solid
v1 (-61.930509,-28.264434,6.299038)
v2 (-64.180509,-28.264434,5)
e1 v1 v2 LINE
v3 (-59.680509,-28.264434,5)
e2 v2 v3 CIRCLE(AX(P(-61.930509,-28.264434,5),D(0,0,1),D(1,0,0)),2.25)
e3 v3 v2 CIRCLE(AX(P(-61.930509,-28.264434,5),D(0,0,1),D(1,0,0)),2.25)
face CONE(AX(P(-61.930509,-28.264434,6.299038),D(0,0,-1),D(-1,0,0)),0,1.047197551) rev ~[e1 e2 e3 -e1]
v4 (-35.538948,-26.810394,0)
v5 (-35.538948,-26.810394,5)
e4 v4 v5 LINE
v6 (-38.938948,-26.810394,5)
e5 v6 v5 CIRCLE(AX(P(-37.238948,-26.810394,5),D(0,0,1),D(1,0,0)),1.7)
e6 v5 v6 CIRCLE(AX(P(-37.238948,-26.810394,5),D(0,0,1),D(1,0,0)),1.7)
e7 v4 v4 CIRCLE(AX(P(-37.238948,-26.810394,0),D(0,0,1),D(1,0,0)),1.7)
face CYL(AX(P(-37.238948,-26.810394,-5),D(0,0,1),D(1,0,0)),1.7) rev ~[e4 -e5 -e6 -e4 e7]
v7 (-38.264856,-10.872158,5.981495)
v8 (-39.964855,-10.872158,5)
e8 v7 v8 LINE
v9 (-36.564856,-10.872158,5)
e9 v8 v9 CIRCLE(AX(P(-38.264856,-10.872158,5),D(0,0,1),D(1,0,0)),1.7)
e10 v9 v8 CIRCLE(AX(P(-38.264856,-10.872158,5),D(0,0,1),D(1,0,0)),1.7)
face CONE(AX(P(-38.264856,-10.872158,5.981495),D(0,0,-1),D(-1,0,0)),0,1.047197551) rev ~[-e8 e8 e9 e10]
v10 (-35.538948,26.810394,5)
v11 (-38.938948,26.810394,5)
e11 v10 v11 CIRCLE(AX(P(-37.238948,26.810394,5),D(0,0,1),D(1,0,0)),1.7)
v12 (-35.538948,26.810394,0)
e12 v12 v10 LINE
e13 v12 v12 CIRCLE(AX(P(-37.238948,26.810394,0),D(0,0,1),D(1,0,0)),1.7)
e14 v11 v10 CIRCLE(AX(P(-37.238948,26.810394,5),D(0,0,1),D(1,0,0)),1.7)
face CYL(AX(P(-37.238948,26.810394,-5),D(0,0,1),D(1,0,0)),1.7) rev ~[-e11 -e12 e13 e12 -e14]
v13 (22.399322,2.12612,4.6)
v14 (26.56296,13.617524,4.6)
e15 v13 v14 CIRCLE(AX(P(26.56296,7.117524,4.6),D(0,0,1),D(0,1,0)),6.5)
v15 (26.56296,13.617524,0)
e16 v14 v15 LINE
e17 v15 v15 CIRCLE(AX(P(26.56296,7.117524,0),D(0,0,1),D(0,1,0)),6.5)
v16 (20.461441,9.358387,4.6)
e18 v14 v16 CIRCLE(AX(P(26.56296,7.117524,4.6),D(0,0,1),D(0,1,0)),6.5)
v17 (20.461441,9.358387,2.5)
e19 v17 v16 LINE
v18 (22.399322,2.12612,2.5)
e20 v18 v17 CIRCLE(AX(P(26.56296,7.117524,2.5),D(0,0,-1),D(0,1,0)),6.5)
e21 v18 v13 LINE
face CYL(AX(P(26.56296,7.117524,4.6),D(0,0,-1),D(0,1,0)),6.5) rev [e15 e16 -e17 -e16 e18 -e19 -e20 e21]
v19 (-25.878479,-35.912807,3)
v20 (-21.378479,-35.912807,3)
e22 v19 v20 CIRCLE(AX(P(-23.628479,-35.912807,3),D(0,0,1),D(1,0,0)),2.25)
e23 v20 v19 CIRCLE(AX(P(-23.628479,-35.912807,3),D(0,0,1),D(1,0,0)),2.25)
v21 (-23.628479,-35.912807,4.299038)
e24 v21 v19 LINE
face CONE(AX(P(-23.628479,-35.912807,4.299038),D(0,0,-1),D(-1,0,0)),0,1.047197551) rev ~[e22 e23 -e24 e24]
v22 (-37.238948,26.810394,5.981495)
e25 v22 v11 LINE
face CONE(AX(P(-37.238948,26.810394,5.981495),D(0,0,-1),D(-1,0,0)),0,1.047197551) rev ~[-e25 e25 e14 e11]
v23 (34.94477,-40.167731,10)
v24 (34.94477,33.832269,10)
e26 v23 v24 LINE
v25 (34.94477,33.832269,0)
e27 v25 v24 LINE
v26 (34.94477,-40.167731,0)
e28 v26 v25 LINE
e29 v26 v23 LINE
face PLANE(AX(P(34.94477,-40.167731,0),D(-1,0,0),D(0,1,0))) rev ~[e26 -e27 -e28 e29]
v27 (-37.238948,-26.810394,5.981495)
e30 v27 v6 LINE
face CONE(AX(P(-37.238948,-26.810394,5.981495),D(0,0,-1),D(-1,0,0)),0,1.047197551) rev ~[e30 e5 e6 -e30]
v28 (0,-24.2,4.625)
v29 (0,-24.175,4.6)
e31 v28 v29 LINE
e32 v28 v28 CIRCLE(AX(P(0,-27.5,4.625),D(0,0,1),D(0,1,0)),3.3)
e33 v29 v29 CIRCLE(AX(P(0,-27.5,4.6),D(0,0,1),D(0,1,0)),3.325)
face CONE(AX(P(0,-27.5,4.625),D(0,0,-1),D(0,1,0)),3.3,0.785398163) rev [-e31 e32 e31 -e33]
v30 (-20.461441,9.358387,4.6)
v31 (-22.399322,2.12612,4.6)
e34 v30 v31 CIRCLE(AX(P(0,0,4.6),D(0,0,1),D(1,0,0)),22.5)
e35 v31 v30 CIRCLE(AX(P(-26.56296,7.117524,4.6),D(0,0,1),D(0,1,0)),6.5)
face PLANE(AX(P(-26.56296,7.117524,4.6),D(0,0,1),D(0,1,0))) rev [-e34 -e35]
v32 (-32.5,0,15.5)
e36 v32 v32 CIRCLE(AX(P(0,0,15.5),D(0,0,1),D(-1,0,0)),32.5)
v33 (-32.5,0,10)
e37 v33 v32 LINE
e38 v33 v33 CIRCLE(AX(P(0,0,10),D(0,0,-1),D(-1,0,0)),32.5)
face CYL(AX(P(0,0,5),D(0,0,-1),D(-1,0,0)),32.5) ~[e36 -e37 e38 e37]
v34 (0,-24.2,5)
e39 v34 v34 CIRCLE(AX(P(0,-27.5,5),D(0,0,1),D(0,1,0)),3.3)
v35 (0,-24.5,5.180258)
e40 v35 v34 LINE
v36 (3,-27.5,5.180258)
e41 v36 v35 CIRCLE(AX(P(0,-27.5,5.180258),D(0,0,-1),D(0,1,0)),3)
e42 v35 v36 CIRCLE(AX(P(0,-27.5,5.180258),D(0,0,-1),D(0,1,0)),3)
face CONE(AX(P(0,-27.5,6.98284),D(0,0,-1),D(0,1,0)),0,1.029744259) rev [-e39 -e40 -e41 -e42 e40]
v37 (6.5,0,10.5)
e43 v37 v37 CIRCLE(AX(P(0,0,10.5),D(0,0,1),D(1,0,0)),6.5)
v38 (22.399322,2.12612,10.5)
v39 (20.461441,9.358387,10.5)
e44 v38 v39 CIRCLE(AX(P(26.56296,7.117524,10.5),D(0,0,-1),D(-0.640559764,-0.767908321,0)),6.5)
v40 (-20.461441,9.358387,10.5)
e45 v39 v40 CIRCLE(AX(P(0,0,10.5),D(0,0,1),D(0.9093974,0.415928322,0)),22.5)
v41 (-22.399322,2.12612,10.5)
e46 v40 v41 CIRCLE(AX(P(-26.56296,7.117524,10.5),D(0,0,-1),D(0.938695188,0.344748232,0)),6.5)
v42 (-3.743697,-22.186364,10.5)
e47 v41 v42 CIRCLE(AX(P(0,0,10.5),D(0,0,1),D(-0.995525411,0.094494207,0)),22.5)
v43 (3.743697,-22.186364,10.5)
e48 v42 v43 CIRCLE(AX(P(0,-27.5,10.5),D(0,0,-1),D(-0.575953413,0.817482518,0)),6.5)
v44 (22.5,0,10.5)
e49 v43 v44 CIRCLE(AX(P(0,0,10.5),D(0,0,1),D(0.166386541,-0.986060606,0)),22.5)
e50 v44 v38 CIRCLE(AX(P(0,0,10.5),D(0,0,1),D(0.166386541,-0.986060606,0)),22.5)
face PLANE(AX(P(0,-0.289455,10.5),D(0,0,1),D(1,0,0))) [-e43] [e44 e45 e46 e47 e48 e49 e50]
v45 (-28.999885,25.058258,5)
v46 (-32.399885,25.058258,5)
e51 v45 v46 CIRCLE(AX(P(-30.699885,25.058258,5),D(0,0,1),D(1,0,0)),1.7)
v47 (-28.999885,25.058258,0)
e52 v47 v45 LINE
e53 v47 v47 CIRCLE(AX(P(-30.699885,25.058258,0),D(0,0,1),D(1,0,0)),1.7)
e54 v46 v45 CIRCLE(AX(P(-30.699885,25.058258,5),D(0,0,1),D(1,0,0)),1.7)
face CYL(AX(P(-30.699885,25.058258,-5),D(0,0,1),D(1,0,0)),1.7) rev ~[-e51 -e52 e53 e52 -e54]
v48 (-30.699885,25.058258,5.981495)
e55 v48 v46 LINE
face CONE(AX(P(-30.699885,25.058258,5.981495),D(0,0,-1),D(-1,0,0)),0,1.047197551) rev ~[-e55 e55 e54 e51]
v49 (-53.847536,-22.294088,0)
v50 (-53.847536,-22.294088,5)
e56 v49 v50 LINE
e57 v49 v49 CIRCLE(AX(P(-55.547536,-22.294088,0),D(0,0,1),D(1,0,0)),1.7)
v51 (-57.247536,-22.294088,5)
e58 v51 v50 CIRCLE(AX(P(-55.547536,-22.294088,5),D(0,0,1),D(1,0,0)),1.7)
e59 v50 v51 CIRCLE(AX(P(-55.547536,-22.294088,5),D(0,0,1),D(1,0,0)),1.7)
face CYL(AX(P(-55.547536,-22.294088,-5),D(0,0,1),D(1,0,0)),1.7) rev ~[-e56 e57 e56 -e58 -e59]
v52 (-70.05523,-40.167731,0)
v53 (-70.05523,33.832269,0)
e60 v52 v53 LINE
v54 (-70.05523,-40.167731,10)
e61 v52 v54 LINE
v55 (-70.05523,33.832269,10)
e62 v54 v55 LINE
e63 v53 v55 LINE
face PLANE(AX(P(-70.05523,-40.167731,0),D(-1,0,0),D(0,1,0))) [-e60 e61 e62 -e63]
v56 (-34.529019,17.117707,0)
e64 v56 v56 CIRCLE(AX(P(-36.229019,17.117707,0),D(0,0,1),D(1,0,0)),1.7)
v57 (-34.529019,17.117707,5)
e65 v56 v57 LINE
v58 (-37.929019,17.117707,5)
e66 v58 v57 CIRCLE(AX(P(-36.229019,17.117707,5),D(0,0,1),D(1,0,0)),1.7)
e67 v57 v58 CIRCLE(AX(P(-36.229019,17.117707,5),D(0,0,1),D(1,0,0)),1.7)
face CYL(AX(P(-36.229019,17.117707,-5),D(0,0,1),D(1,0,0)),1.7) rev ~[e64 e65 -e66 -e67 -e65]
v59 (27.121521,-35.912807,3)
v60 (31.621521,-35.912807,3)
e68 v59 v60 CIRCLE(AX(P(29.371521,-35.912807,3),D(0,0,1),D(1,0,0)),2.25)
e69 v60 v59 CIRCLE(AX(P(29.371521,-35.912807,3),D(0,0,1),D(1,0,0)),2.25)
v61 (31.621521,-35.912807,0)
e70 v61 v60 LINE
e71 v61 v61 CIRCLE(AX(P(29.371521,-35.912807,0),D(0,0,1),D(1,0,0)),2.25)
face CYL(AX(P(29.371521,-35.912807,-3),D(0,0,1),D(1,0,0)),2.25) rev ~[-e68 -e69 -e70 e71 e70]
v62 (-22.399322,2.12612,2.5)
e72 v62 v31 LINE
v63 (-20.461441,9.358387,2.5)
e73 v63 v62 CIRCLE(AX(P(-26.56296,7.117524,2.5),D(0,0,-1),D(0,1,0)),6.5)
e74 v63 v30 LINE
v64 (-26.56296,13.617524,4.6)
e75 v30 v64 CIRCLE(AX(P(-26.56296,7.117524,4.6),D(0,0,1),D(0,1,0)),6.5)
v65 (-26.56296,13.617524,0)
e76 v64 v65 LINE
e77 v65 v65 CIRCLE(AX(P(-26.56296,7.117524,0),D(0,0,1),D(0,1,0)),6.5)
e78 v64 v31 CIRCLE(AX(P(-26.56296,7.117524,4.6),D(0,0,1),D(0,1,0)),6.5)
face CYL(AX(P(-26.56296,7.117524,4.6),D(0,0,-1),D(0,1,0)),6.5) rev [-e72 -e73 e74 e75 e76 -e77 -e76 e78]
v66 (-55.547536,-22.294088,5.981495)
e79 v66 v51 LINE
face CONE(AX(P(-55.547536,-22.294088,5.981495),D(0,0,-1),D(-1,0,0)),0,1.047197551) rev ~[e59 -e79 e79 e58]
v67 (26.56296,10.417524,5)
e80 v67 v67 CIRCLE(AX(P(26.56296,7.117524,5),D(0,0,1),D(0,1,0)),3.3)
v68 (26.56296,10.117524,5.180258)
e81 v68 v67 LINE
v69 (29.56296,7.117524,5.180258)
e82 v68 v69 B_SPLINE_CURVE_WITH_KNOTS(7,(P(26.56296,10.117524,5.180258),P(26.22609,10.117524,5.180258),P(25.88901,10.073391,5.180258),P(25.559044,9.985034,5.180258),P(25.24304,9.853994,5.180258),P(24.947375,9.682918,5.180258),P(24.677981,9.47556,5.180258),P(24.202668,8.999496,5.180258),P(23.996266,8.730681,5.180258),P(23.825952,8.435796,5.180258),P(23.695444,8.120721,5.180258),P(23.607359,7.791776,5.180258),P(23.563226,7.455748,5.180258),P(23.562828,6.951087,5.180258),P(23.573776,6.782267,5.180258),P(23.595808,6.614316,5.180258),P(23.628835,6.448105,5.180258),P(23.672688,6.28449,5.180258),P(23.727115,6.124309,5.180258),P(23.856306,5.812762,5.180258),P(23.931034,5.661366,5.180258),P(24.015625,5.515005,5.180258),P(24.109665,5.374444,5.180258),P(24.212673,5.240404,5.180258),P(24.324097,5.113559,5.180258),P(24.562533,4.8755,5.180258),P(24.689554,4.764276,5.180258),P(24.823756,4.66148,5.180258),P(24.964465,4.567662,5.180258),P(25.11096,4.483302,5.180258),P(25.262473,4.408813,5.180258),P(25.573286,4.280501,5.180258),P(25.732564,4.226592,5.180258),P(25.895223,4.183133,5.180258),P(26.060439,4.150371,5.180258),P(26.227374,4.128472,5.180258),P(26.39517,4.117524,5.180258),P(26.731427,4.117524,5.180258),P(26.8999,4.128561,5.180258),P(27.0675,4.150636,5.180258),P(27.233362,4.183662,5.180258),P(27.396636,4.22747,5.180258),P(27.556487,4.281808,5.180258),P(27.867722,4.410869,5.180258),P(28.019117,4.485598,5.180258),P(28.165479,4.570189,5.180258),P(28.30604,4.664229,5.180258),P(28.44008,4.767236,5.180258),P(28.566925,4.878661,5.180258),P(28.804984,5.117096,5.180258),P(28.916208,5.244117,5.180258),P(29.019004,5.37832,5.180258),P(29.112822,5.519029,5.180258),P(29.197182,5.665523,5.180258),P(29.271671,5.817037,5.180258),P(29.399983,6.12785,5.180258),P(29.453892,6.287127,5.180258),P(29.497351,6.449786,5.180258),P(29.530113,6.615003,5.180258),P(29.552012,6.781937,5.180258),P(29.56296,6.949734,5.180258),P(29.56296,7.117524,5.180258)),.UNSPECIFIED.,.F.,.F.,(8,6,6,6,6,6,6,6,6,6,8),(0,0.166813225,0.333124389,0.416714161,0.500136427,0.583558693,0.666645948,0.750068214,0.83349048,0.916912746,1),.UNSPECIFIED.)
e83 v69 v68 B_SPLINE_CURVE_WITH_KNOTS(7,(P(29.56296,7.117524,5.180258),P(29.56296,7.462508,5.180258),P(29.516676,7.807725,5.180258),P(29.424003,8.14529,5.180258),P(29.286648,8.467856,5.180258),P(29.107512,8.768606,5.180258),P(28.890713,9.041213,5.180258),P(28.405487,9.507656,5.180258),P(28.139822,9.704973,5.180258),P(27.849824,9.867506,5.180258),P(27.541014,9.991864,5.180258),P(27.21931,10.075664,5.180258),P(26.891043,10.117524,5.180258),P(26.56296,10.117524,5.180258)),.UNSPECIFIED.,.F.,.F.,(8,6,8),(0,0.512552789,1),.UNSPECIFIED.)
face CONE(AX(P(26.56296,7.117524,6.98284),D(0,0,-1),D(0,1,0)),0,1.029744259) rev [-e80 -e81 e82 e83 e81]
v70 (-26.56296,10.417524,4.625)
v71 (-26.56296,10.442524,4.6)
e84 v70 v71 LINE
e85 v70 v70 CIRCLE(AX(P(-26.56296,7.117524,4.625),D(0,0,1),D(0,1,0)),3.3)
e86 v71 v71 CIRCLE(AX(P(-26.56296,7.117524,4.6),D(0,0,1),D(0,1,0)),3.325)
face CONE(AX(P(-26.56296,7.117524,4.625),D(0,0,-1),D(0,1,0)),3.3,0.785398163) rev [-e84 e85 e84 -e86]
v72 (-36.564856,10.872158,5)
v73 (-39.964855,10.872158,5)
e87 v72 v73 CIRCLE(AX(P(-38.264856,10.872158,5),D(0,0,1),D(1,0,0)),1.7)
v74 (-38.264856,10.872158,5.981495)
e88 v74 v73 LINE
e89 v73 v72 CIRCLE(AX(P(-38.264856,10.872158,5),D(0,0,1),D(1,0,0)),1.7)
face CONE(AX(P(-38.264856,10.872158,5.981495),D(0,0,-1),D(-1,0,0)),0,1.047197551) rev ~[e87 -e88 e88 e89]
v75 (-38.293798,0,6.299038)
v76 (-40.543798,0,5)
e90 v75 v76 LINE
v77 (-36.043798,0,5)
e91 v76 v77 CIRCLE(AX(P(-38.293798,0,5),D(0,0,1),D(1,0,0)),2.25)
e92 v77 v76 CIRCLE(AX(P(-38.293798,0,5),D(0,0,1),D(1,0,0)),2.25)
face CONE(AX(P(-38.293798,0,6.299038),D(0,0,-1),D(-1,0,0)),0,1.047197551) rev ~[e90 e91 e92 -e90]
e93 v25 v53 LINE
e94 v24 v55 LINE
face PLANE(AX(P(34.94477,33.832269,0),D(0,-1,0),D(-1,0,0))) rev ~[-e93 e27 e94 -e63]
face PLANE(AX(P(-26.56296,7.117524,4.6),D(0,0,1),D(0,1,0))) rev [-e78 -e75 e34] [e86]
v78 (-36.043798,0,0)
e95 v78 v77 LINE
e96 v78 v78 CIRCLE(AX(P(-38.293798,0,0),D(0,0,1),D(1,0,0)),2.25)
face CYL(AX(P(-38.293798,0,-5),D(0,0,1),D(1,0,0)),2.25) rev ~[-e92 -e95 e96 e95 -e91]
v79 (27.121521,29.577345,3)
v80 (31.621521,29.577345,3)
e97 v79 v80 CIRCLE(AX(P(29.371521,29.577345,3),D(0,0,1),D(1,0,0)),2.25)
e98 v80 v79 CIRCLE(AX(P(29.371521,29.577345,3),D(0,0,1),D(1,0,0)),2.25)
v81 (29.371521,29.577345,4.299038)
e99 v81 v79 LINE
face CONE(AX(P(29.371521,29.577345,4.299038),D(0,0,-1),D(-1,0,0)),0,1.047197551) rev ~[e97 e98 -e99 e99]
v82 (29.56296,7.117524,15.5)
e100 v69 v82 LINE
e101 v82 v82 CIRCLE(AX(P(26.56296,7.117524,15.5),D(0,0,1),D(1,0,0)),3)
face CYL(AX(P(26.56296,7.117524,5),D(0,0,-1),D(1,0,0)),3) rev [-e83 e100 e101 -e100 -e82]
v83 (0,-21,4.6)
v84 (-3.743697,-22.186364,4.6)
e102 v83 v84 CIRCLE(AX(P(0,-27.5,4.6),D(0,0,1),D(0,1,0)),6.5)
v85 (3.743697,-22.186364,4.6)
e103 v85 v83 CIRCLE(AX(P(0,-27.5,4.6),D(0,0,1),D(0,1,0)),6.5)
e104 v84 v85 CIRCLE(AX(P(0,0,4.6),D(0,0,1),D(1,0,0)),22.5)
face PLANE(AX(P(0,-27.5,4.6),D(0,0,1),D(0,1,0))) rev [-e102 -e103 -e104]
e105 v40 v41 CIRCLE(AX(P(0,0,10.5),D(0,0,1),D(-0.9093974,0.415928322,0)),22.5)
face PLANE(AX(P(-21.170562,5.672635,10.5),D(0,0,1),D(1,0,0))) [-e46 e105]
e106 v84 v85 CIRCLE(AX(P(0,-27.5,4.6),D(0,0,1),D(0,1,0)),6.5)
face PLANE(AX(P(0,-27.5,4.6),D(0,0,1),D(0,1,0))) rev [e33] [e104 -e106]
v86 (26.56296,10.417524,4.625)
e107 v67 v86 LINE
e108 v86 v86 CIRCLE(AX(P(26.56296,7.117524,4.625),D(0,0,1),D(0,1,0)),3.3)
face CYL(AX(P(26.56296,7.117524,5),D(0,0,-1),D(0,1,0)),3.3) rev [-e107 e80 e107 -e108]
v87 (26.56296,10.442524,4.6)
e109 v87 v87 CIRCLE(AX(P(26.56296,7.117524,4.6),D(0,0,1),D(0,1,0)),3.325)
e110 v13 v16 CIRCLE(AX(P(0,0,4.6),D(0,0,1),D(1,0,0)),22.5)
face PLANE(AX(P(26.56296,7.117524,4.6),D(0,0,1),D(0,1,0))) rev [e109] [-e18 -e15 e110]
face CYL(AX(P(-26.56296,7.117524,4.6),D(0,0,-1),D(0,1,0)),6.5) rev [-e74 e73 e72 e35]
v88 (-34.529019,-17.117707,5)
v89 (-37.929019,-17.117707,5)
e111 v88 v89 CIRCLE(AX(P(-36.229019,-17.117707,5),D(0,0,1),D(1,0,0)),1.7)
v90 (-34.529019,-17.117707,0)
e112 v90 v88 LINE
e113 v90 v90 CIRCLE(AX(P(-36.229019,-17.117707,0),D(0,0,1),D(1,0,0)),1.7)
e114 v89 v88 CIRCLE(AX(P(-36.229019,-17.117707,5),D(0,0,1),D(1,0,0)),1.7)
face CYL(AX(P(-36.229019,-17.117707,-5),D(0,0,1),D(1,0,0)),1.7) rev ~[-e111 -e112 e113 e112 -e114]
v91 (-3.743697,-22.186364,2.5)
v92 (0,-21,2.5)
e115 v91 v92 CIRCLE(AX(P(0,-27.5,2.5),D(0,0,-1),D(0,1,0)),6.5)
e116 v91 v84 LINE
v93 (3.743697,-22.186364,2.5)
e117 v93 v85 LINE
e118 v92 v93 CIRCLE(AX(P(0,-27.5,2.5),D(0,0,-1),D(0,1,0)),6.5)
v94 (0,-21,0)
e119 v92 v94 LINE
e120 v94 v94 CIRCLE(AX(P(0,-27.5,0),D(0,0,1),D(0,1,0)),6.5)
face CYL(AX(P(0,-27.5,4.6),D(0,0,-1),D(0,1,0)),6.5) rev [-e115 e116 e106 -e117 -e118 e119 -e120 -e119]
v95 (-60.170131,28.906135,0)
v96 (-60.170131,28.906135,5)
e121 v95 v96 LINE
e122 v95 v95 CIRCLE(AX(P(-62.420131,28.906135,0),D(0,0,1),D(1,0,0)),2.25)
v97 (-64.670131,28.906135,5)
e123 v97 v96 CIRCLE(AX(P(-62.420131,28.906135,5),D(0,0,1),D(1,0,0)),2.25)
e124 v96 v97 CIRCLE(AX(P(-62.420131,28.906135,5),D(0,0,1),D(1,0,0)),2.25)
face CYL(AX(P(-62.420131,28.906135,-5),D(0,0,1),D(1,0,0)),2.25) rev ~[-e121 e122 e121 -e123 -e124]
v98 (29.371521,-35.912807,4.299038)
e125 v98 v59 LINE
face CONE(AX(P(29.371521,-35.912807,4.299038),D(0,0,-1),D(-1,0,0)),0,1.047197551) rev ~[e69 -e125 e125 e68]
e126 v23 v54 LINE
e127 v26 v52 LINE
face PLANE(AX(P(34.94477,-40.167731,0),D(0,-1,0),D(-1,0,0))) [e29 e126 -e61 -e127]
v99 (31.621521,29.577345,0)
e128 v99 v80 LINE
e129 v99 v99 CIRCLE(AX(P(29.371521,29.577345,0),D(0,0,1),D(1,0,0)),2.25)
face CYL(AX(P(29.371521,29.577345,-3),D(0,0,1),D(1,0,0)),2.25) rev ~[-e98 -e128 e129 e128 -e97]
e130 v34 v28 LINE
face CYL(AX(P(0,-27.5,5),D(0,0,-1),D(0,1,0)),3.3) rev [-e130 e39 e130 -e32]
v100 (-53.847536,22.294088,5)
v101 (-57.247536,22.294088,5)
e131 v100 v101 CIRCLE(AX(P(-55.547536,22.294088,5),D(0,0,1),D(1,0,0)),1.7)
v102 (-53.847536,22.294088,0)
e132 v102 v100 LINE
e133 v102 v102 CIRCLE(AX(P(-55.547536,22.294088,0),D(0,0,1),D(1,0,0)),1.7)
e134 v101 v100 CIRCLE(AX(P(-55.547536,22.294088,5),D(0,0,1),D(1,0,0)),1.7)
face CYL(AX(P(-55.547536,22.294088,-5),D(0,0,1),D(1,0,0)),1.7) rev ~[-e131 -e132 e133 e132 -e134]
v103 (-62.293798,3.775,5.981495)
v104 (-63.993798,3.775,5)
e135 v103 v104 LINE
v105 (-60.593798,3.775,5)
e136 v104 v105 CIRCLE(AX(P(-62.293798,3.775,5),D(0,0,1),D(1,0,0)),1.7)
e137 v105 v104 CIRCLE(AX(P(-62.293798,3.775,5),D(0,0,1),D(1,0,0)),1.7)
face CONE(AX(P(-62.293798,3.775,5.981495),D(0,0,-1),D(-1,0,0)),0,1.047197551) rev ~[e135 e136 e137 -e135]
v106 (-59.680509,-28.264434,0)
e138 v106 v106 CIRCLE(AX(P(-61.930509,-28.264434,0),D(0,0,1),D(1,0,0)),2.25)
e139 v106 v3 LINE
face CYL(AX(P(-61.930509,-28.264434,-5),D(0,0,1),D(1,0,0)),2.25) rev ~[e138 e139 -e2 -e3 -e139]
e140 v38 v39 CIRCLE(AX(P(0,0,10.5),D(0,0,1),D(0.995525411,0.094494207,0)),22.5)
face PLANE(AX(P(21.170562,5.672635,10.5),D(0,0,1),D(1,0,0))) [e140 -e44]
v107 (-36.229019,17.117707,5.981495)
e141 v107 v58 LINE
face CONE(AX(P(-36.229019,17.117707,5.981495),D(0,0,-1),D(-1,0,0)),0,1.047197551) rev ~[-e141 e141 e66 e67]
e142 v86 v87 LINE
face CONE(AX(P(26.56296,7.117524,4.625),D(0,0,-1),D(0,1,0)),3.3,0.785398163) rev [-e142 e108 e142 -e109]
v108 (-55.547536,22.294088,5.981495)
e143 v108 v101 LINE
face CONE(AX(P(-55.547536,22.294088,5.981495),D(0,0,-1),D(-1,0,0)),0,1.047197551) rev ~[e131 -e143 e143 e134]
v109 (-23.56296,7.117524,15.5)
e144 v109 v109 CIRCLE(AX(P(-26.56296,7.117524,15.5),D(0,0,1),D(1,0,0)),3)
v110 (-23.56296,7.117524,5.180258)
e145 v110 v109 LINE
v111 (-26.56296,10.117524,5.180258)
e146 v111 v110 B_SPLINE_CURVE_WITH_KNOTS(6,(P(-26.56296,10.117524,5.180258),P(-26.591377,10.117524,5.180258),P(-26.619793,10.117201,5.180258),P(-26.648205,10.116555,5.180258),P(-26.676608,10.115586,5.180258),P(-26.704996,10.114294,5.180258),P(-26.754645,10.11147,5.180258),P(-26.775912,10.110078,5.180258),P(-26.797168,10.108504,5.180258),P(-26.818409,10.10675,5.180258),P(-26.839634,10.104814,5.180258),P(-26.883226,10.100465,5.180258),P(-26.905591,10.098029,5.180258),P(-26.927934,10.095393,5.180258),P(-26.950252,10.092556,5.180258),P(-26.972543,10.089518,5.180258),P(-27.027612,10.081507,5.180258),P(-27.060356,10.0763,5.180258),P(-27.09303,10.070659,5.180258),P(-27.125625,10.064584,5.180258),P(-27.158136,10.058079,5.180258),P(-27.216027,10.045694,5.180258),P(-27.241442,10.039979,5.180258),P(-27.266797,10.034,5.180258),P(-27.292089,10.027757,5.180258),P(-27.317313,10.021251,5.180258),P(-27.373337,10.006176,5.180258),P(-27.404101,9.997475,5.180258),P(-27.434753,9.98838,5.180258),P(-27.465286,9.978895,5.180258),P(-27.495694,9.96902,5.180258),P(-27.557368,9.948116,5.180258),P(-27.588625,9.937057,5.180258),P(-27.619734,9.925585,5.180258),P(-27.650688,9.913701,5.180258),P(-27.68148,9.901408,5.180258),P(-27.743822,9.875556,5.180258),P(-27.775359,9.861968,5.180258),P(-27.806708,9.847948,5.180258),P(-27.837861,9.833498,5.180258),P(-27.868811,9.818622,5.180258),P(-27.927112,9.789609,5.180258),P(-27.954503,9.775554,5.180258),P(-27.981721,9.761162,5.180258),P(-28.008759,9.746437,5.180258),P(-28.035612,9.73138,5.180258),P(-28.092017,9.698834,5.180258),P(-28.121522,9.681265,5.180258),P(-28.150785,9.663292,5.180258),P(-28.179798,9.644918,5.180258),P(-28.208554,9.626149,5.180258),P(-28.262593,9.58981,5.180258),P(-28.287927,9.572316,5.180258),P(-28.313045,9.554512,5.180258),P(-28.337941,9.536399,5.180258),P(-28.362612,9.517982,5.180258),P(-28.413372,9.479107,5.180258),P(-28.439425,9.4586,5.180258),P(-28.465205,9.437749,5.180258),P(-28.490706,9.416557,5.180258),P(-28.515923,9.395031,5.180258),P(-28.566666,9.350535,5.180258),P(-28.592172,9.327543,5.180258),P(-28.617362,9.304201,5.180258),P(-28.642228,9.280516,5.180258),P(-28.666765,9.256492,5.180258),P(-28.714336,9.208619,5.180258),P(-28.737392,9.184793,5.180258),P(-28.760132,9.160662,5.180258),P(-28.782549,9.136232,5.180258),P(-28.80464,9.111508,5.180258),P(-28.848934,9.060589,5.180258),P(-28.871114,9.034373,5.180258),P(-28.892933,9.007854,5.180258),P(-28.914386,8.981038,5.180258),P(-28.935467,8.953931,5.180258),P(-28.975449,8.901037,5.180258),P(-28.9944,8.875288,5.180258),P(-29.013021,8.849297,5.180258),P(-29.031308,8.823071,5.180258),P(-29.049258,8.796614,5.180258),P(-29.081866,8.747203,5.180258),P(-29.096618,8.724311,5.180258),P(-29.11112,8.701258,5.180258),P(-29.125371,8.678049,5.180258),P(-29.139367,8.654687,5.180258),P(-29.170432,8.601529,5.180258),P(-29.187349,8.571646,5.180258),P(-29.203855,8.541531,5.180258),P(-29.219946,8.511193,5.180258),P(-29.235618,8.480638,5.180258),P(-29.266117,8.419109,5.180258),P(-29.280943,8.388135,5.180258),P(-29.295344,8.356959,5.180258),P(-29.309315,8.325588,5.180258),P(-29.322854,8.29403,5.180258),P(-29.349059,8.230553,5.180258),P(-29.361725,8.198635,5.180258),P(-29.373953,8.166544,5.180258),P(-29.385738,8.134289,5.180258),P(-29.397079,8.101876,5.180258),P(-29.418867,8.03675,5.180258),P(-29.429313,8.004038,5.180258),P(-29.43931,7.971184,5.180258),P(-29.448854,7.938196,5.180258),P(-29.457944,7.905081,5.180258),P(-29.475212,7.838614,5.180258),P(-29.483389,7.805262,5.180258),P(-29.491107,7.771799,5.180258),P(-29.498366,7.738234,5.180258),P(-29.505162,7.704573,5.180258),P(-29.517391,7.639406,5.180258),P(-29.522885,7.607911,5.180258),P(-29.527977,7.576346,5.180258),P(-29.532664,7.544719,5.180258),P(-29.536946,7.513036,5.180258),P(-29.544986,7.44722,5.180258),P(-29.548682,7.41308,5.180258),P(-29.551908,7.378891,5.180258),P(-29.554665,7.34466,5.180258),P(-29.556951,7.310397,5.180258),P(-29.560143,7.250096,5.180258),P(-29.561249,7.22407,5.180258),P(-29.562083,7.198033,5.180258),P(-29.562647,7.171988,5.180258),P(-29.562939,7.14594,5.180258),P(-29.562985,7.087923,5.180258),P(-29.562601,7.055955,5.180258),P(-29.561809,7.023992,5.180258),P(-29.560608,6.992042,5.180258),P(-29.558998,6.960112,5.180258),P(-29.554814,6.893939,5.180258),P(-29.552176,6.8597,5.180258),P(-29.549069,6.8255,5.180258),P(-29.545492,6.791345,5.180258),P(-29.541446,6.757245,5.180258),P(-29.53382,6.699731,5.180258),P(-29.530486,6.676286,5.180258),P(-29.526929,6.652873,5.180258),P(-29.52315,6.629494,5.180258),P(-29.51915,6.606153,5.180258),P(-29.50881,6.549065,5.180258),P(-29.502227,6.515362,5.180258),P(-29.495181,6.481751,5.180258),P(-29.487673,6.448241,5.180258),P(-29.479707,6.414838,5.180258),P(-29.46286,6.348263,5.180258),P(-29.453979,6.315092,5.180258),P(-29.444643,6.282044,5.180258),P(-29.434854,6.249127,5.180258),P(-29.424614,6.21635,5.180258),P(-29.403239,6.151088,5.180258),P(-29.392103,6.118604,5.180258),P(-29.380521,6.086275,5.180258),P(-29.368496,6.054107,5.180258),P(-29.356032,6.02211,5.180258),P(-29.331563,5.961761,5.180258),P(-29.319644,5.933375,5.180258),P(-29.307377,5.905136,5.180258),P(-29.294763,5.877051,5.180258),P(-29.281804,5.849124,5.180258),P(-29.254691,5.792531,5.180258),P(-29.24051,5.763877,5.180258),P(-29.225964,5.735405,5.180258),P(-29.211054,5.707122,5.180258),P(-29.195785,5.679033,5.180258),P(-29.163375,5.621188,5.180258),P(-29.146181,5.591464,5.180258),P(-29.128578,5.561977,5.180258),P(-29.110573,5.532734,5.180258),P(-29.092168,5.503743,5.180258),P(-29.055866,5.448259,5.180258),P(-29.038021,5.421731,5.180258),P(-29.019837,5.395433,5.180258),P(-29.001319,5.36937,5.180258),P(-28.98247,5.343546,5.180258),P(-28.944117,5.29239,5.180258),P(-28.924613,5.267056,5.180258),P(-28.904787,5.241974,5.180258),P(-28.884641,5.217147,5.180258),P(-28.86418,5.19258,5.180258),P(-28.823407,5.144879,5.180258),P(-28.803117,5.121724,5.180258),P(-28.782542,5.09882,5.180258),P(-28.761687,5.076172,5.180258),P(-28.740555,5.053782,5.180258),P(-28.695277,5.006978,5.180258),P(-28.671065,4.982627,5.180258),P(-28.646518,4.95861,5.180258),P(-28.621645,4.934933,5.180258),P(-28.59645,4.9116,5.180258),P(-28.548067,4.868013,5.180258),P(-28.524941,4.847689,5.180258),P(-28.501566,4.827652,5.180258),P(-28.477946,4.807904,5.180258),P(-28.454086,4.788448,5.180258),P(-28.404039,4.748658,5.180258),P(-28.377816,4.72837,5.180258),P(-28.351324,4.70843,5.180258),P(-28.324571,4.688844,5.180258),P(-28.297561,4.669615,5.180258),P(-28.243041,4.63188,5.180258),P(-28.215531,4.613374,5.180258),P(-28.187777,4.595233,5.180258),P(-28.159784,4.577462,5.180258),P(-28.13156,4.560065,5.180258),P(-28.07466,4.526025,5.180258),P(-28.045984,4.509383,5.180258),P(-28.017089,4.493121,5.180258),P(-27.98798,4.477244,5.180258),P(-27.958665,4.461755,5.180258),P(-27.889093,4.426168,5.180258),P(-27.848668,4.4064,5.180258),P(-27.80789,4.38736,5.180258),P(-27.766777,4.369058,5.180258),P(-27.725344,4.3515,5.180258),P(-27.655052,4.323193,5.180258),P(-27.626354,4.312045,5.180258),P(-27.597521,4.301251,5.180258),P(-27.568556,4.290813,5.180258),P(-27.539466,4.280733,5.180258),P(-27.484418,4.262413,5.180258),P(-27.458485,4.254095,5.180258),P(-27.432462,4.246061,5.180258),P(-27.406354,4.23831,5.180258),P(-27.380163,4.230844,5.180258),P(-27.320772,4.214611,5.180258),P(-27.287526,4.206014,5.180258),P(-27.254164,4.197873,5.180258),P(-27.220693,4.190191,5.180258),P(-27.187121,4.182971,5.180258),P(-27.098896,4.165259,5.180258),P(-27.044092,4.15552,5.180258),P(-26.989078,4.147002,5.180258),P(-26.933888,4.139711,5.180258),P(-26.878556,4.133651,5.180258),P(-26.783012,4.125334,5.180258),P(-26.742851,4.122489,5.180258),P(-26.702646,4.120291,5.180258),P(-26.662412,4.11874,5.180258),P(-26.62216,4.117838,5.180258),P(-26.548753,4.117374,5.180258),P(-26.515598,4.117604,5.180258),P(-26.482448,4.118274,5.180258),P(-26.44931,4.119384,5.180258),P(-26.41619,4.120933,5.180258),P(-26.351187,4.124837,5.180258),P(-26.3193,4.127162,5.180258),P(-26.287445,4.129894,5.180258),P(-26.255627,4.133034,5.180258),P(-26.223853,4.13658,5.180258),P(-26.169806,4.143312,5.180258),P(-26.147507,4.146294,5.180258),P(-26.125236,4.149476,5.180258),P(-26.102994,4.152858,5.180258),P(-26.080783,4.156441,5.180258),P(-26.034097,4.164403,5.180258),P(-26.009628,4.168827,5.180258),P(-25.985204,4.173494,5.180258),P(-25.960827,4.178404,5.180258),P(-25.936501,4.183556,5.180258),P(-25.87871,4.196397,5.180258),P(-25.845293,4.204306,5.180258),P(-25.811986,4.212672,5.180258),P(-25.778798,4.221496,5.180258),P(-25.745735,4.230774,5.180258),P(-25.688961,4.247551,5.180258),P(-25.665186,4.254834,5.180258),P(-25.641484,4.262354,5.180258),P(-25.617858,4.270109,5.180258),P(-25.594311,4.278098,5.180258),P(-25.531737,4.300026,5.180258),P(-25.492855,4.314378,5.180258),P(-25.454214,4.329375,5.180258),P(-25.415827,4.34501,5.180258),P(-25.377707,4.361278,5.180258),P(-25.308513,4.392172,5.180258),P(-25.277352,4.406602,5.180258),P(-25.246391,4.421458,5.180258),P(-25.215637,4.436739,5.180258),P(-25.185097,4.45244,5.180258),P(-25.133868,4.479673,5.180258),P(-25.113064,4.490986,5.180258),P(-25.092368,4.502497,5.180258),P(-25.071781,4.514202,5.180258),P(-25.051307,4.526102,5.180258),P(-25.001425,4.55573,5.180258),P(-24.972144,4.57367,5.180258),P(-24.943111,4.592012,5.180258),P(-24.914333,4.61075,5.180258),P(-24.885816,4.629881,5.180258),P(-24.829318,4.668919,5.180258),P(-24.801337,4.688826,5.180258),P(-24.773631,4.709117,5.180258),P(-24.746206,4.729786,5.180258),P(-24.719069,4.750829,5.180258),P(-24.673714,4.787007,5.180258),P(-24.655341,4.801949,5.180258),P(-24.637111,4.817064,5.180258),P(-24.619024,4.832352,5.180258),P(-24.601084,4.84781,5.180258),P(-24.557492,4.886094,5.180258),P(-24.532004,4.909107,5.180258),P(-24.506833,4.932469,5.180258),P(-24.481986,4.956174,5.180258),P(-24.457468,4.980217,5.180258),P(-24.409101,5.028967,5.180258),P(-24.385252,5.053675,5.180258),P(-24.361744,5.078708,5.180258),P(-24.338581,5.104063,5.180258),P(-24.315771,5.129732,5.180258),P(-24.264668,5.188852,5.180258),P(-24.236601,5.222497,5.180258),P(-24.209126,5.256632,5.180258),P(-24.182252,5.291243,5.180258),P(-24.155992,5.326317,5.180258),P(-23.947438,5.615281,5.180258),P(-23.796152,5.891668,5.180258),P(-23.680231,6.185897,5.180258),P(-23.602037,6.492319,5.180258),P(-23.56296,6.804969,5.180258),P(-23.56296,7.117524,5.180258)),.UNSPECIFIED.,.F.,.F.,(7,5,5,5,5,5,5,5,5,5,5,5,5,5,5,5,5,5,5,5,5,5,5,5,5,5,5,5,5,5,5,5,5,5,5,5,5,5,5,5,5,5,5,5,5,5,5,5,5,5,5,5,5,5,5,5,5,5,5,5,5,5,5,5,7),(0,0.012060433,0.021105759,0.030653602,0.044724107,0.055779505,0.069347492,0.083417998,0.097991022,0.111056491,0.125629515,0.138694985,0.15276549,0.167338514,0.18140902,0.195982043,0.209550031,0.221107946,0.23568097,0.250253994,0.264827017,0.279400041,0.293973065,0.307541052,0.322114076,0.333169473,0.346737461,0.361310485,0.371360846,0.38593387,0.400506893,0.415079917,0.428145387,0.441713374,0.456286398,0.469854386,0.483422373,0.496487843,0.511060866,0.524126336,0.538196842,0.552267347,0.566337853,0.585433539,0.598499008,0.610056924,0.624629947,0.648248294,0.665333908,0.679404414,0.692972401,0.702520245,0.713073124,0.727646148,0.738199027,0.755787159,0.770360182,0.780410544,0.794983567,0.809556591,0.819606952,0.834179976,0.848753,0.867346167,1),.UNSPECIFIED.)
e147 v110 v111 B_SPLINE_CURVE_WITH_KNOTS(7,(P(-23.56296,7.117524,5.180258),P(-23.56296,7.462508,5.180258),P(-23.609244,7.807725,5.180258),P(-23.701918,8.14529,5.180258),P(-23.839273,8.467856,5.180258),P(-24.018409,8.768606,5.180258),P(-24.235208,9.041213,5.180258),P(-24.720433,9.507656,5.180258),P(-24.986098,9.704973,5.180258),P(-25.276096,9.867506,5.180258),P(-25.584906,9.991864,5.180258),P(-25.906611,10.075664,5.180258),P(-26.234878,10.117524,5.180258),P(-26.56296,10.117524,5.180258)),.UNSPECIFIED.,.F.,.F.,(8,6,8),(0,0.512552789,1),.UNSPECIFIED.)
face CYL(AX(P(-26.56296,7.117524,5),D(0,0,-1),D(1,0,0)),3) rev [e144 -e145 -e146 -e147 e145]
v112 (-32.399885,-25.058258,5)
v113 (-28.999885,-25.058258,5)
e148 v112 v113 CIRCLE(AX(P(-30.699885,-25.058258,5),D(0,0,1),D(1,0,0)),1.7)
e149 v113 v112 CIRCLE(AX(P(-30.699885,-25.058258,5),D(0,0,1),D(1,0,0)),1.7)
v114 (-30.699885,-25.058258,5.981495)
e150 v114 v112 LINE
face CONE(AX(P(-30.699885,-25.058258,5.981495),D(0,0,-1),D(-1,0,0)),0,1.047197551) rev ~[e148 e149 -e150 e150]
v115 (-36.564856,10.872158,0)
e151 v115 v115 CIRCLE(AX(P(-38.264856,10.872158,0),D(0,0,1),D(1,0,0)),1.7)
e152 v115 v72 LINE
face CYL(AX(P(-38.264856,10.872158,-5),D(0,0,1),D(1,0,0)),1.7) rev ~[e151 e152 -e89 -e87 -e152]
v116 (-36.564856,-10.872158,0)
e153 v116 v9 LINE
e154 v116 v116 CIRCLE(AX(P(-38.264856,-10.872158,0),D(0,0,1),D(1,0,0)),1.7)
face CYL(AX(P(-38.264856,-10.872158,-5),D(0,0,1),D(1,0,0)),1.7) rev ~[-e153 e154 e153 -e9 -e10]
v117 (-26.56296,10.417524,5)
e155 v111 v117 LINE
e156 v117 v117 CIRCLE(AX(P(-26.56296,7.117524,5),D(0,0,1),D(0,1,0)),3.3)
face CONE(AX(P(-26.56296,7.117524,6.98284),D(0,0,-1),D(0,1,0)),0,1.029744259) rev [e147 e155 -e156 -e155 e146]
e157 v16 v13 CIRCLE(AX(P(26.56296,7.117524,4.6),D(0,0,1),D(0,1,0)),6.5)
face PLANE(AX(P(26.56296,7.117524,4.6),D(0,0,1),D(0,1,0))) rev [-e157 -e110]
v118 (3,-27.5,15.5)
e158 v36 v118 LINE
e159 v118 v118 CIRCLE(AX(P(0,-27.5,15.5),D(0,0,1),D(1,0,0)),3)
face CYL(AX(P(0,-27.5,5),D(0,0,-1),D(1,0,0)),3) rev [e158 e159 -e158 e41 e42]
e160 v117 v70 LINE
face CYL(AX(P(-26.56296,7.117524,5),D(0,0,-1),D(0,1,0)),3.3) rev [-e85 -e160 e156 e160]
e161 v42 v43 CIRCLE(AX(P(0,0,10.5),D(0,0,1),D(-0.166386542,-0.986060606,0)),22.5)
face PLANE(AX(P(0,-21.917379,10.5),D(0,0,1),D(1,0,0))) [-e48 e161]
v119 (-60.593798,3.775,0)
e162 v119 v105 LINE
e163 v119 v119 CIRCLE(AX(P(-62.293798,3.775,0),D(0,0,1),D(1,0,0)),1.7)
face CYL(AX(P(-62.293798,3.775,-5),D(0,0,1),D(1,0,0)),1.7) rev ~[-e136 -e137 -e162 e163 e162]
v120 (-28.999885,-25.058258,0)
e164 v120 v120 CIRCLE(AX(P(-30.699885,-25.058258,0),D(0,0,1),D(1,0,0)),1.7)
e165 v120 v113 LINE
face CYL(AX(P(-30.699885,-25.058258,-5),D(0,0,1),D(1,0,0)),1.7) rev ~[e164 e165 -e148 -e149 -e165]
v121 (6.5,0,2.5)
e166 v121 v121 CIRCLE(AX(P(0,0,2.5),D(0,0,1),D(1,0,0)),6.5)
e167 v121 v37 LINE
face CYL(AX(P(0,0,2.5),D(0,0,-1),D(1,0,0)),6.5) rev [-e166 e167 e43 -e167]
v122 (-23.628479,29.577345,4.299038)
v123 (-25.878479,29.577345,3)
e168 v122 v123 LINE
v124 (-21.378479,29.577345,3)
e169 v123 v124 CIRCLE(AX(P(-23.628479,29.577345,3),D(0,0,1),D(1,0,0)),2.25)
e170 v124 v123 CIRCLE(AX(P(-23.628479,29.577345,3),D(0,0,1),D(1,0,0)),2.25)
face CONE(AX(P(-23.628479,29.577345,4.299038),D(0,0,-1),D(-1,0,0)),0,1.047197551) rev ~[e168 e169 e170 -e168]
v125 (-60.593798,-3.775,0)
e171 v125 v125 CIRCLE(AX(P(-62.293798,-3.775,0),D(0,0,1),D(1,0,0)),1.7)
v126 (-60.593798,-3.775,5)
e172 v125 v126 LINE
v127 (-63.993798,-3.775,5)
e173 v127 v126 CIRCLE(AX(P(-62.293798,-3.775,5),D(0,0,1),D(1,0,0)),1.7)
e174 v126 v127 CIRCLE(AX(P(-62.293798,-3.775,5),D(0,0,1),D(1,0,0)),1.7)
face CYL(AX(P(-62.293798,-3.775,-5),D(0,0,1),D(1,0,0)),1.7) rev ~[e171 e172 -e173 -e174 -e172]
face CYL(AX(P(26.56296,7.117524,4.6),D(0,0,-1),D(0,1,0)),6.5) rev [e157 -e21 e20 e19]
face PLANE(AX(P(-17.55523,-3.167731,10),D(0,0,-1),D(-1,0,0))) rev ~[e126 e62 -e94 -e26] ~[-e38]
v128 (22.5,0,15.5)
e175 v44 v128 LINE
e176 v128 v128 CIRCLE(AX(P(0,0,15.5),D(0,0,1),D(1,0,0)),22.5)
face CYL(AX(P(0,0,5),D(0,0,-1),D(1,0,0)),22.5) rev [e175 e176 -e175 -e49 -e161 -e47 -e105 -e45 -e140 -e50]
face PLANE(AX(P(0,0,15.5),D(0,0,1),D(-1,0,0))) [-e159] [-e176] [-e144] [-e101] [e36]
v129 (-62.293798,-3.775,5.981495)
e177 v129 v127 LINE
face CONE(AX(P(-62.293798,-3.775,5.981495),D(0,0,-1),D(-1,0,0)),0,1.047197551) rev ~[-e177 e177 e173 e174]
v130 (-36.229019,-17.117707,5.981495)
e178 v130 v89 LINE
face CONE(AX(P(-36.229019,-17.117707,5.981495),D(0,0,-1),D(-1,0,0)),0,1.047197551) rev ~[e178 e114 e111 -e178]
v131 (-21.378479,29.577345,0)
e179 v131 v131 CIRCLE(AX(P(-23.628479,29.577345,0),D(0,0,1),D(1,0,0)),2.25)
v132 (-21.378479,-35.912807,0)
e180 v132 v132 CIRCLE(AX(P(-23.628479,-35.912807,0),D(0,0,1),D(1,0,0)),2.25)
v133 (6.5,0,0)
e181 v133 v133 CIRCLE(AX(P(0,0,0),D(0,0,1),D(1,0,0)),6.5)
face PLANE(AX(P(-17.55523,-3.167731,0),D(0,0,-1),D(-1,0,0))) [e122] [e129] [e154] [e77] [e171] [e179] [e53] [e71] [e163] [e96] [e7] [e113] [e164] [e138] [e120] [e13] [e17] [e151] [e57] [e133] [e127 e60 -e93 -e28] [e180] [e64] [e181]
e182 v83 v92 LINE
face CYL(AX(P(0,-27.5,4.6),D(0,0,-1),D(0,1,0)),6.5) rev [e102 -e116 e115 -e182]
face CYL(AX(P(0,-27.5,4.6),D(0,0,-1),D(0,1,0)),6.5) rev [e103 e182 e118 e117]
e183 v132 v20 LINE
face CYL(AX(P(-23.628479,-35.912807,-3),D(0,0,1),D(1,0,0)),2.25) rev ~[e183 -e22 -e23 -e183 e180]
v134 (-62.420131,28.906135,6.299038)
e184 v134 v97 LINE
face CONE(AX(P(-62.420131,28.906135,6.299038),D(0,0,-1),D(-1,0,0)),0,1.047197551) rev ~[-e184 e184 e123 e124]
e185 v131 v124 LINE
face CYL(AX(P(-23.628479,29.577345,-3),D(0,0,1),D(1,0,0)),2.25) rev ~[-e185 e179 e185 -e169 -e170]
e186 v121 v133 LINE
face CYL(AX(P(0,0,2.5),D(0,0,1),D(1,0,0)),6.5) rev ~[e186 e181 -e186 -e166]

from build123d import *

# Parameters (mm, degrees)
ESQUISSE1_R                                  = 32.5
BOSS_EXTRU_1_DEPTH                           = 5
ESQUISSE2_R                                  = 22.5
ENL_V_MAT_EXTRU_1_DEPTH                      = 2.5
ESQUISSE3_R                                  = 6.5
ENL_V_MAT_EXTRU_2_DEPTH                      = 47.029881599
TROUS_DE_CENTRAGE_6_0MM1_D                   = 6
ESQUISSE6_W                                  = 105
ESQUISSE6_H                                  = 74
ESQUISSE6_R                                  = 32.5
BOSS_EXTRU_2_DEPTH                           = 10
ESQUISSE7_R                                  = 32.5
ESQUISSE7_R_2                                = 3
ESQUISSE7_R_3                                = 22.5
BOSS_EXTRU_3_DEPTH                           = 10.5
CHAMBRAGE_POUR_VIS_T_TE_RONDE_BOMB_2_COUNT   = 2
CHAMBRAGE_POUR_VIS_T_TE_RONDE_BOMB_2_PITCH   = 43.634433716
CHAMBRAGE_POUR_VIS_T_TE_RONDE_BOMB_3_COUNT   = 2
CHAMBRAGE_POUR_VIS_T_TE_RONDE_BOMB_3_PITCH   = 43.634433716
ESQUISSE16_R                                 = 6.5
BOSS_EXTRU_4_DEPTH                           = 8
CHAMBRAGE_POUR_VIS_T_TE_RONDE_BOMB_5_A_COUNT = 2
CHAMBRAGE_POUR_VIS_T_TE_RONDE_BOMB_5_A_PITCH = 43.634433716
D_GAGEMENT_M33_D                             = 3.4
D_GAGEMENT_M33_DEPTH                         = 5
D_GAGEMENT_M33_TIP                           = 0.981495458
D_GAGEMENT_M42_D                             = 4.5
D_GAGEMENT_M42_DEPTH                         = 5
D_GAGEMENT_M42_TIP                           = 1.299038106
D_GAGEMENT_M43_D                             = 4.5
D_GAGEMENT_M43_DEPTH                         = 5
D_GAGEMENT_M43_TIP                           = 1.299038106
D_GAGEMENT_M44_D                             = 4.5
D_GAGEMENT_M44_DEPTH                         = 5
D_GAGEMENT_M44_TIP                           = 1.299038106
D_GAGEMENT_M45_D                             = 4.5
D_GAGEMENT_M45_DEPTH                         = 3
D_GAGEMENT_M45_TIP                           = 1.299038106


with BuildPart() as part:
    # Esquisse1 → Boss.-Extru.1 (new body)
    with BuildSketch(Plane.XY):
        Circle(ESQUISSE1_R)
    extrude(amount=BOSS_EXTRU_1_DEPTH)

    # Esquisse2 → Enlèv. mat.-Extru.1 (cut)
    with BuildSketch(Plane.XY.offset(5)):
        Circle(ESQUISSE2_R)
    extrude(amount=-ENL_V_MAT_EXTRU_1_DEPTH, mode=Mode.SUBTRACT)

    # Esquisse3 → Enlèv. mat.-Extru.2 (cut, through all)
    with BuildSketch(Plane.XY.offset(2.5)):
        Circle(ESQUISSE3_R)
    extrude(amount=-ENL_V_MAT_EXTRU_2_DEPTH, mode=Mode.SUBTRACT)

    # Trous de centrage Ø6.0mm1 (through all)
    with Locations(Plane.XY.offset(5)):
        with Locations((0, -27.5), (-26.562960223, 7.11752374), (26.562960223, 7.11752374)):
            Hole(TROUS_DE_CENTRAGE_6_0MM1_D / 2)

    # Esquisse6 → Boss.-Extru.2 (add)
    with BuildSketch(Plane(origin=(0, 0, 0), x_dir=(-1, 0, 0), z_dir=(0, 0, -1))):
        with Locations((17.555230344, -3.167731133)):
            Rectangle(ESQUISSE6_W, ESQUISSE6_H)
        Circle(ESQUISSE6_R, mode=Mode.SUBTRACT)
    extrude(amount=-BOSS_EXTRU_2_DEPTH)

    # Esquisse7 → Boss.-Extru.3 (add)
    with BuildSketch(Plane.XY.offset(5)):
        with Locations(Location((0, 0, 0), (0, 0, 180))):
            Circle(ESQUISSE7_R)
        with Locations((0, -27.5)):
            Circle(ESQUISSE7_R_2, mode=Mode.SUBTRACT)
        with Locations((-26.562960223, 7.11752374)):
            Circle(ESQUISSE7_R_2, mode=Mode.SUBTRACT)
        Circle(ESQUISSE7_R_3, mode=Mode.SUBTRACT)
        with Locations((26.562960223, 7.11752374)):
            Circle(ESQUISSE7_R_2, mode=Mode.SUBTRACT)
    extrude(amount=BOSS_EXTRU_3_DEPTH)

    # Esquisse14 → Chambrage pour vis _ t_te ronde bomb_e M (revolve, cut)
    with BuildSketch(Plane(origin=(0, -27.5, 0), x_dir=(0, 1, 0), z_dir=(1, 0, 0))):
        Polygon((0, 0), (0, 6.982840043), (3.3, 5), (3.3, 4.625), (3.325, 4.6), (6.5, 4.6), (6.5, 0), align=None)
    chambrage_pour_vis_t_te_ronde_bomb_e_m = revolve(axis=Axis((0, -27.5, -6.35), (0, 0, 1)), mode=Mode.SUBTRACT)

    # Chambrage pour vis _ t_te ronde bomb 2: Chambrage pour vis _ t_te ronde bomb_e M ×2
    with Locations(*[Vector(-0.6087614290087126, 0.7933533402912415, 0) * (i * CHAMBRAGE_POUR_VIS_T_TE_RONDE_BOMB_2_PITCH) for i in range(1, CHAMBRAGE_POUR_VIS_T_TE_RONDE_BOMB_2_COUNT)]):
        add(chambrage_pour_vis_t_te_ronde_bomb_e_m, mode=Mode.SUBTRACT)

    # Chambrage pour vis _ t_te ronde bomb 3: Chambrage pour vis _ t_te ronde bomb_e M ×2
    with Locations(*[Vector(0.6087614290087182, 0.793353340291237, 0) * (i * CHAMBRAGE_POUR_VIS_T_TE_RONDE_BOMB_3_PITCH) for i in range(1, CHAMBRAGE_POUR_VIS_T_TE_RONDE_BOMB_3_COUNT)]):
        add(chambrage_pour_vis_t_te_ronde_bomb_e_m, mode=Mode.SUBTRACT)

    # Esquisse16 → Boss.-Extru.4 (add)
    # profile 1 of 4: a face of its own
    with BuildSketch(Plane.XY.offset(2.5)):
        with BuildLine():
            ThreePointArc((-22.399321758, 2.126119656), (-17.850450157, -13.697132153), (-3.743697183, -22.186363636))
            ThreePointArc((-3.743697183, -22.186363636), (0, -21), (3.743697183, -22.186363636))
            ThreePointArc((3.743697183, -22.186363636), (17.850450157, -13.697132153), (22.399321758, 2.126119656))
            ThreePointArc((22.399321758, 2.126119656), (20.284442352, 5.435199947), (20.461441498, 9.358387245))
            ThreePointArc((20.461441498, 9.358387245), (0, 22.5), (-20.461441498, 9.358387245))
            ThreePointArc((-20.461441498, 9.358387245), (-20.284442352, 5.435199947), (-22.399321758, 2.126119656))
        make_face()
        Circle(ESQUISSE16_R, mode=Mode.SUBTRACT)
    # profile 2 of 4: a face of its own
    with BuildSketch(Plane.XY.offset(2.5)):
        with BuildLine():
            ThreePointArc((20.461441498, 9.358387245), (20.284442352, 5.435199947), (22.399321758, 2.126119656))
            ThreePointArc((22.399321758, 2.126119656), (21.733331092, 5.823428515), (20.461441498, 9.358387245))
        make_face()
    # profile 3 of 4: a face of its own
    with BuildSketch(Plane.XY.offset(2.5)):
        with BuildLine():
            ThreePointArc((-3.743697183, -22.186363636), (0, -22.5), (3.743697183, -22.186363636))
            ThreePointArc((3.743697183, -22.186363636), (0, -21), (-3.743697183, -22.186363636))
        make_face()
    # profile 4 of 4: a face of its own
    with BuildSketch(Plane.XY.offset(2.5)):
        with BuildLine():
            ThreePointArc((-22.399321758, 2.126119656), (-20.284442352, 5.435199947), (-20.461441498, 9.358387245))
            ThreePointArc((-20.461441498, 9.358387245), (-21.733331092, 5.823428515), (-22.399321758, 2.126119656))
        make_face()
    extrude(amount=BOSS_EXTRU_4_DEPTH)

    # Esquisse17 → Chambrage pour vis _ t_te ronde bomb 4 (revolve, cut)
    with BuildSketch(Plane(origin=(-26.562960223, 7.11752374, 0), x_dir=(0, 1, 0), z_dir=(1, 0, 0))):
        Polygon((0, 0), (0, 6.982840043), (3.3, 5), (3.3, 4.625), (3.325, 4.6), (6.5, 4.6), (6.5, 0), align=None)
    revolve(axis=Axis((-26.562960223, 7.11752374, -6.35), (0, 0, 1)), mode=Mode.SUBTRACT)

    # Esquisse19 → Chambrage pour vis _ t_te ronde bomb 5 (revolve, cut)
    with BuildSketch(Plane(origin=(0, -27.5, 0), x_dir=(0, 1, 0), z_dir=(1, 0, 0))):
        Polygon((0, 0), (0, 6.982840043), (3.3, 5), (3.3, 4.625), (3.325, 4.6), (6.5, 4.6), (6.5, 0), align=None)
    chambrage_pour_vis_t_te_ronde_bomb_5 = revolve(axis=Axis((0, -27.5, -6.35), (0, 0, 1)), mode=Mode.SUBTRACT)

    # Chambrage pour vis _ t_te ronde bomb 5 a: Chambrage pour vis _ t_te ronde bomb 5 ×2
    with Locations(*[Vector(0.6087614290087182, 0.793353340291237, 0) * (i * CHAMBRAGE_POUR_VIS_T_TE_RONDE_BOMB_5_A_PITCH) for i in range(1, CHAMBRAGE_POUR_VIS_T_TE_RONDE_BOMB_5_A_COUNT)]):
        add(chambrage_pour_vis_t_te_ronde_bomb_5, mode=Mode.SUBTRACT)

    # Dégagement M33
    with Locations(Plane(origin=(0, 0, 0), x_dir=(-1, 0, 0), z_dir=(0, 0, -1))):
        with Locations((55.547535515, -22.294087775), (36.229018989, -17.117706873), (55.547535515, 22.294087775), (36.229018989, 17.117706873), (38.2648555, 10.872157738), (30.699885045, 25.058257509), (37.238947698, 26.810394066), (38.2648555, -10.872157738), (37.238947698, -26.810394066), (30.699885045, -25.058257509), (62.293797593, 3.775), (62.293797593, -3.775)):
            Hole(D_GAGEMENT_M33_D / 2, depth=D_GAGEMENT_M33_DEPTH)
            with Locations((0, 0, -(D_GAGEMENT_M33_DEPTH + D_GAGEMENT_M33_TIP / 2))):  # 120° drill point
                Cone(0, D_GAGEMENT_M33_D / 2, D_GAGEMENT_M33_TIP, mode=Mode.SUBTRACT)

    # Dégagement M42
    with Locations(Plane(origin=(0, 0, 0), x_dir=(-1, 0, 0), z_dir=(0, 0, -1))):
        with Locations((38.293797593, 0)):
            Hole(D_GAGEMENT_M42_D / 2, depth=D_GAGEMENT_M42_DEPTH)
            with Locations((0, 0, -(D_GAGEMENT_M42_DEPTH + D_GAGEMENT_M42_TIP / 2))):  # 120° drill point
                Cone(0, D_GAGEMENT_M42_D / 2, D_GAGEMENT_M42_TIP, mode=Mode.SUBTRACT)

    # Dégagement M43
    with Locations(Plane(origin=(0, 0, 0), x_dir=(-1, 0, 0), z_dir=(0, 0, -1))):
        with Locations((62.420130644, 28.906134766)):
            Hole(D_GAGEMENT_M43_D / 2, depth=D_GAGEMENT_M43_DEPTH)
            with Locations((0, 0, -(D_GAGEMENT_M43_DEPTH + D_GAGEMENT_M43_TIP / 2))):  # 120° drill point
                Cone(0, D_GAGEMENT_M43_D / 2, D_GAGEMENT_M43_TIP, mode=Mode.SUBTRACT)

    # Dégagement M44
    with Locations(Plane(origin=(0, 0, 0), x_dir=(-1, 0, 0), z_dir=(0, 0, -1))):
        with Locations((61.930509464, -28.264433855)):
            Hole(D_GAGEMENT_M44_D / 2, depth=D_GAGEMENT_M44_DEPTH)
            with Locations((0, 0, -(D_GAGEMENT_M44_DEPTH + D_GAGEMENT_M44_TIP / 2))):  # 120° drill point
                Cone(0, D_GAGEMENT_M44_D / 2, D_GAGEMENT_M44_TIP, mode=Mode.SUBTRACT)

    # Dégagement M45
    with Locations(Plane(origin=(0, 0, 0), x_dir=(-1, 0, 0), z_dir=(0, 0, -1))):
        with Locations((23.628478868, -35.912807339), (23.628478868, 29.577345073), (-29.371521132, 29.577345073), (-29.371521132, -35.912807339)):
            Hole(D_GAGEMENT_M45_D / 2, depth=D_GAGEMENT_M45_DEPTH)
            with Locations((0, 0, -(D_GAGEMENT_M45_DEPTH + D_GAGEMENT_M45_TIP / 2))):  # 120° drill point
                Cone(0, D_GAGEMENT_M45_D / 2, D_GAGEMENT_M45_TIP, mode=Mode.SUBTRACT)


solid = part.part
